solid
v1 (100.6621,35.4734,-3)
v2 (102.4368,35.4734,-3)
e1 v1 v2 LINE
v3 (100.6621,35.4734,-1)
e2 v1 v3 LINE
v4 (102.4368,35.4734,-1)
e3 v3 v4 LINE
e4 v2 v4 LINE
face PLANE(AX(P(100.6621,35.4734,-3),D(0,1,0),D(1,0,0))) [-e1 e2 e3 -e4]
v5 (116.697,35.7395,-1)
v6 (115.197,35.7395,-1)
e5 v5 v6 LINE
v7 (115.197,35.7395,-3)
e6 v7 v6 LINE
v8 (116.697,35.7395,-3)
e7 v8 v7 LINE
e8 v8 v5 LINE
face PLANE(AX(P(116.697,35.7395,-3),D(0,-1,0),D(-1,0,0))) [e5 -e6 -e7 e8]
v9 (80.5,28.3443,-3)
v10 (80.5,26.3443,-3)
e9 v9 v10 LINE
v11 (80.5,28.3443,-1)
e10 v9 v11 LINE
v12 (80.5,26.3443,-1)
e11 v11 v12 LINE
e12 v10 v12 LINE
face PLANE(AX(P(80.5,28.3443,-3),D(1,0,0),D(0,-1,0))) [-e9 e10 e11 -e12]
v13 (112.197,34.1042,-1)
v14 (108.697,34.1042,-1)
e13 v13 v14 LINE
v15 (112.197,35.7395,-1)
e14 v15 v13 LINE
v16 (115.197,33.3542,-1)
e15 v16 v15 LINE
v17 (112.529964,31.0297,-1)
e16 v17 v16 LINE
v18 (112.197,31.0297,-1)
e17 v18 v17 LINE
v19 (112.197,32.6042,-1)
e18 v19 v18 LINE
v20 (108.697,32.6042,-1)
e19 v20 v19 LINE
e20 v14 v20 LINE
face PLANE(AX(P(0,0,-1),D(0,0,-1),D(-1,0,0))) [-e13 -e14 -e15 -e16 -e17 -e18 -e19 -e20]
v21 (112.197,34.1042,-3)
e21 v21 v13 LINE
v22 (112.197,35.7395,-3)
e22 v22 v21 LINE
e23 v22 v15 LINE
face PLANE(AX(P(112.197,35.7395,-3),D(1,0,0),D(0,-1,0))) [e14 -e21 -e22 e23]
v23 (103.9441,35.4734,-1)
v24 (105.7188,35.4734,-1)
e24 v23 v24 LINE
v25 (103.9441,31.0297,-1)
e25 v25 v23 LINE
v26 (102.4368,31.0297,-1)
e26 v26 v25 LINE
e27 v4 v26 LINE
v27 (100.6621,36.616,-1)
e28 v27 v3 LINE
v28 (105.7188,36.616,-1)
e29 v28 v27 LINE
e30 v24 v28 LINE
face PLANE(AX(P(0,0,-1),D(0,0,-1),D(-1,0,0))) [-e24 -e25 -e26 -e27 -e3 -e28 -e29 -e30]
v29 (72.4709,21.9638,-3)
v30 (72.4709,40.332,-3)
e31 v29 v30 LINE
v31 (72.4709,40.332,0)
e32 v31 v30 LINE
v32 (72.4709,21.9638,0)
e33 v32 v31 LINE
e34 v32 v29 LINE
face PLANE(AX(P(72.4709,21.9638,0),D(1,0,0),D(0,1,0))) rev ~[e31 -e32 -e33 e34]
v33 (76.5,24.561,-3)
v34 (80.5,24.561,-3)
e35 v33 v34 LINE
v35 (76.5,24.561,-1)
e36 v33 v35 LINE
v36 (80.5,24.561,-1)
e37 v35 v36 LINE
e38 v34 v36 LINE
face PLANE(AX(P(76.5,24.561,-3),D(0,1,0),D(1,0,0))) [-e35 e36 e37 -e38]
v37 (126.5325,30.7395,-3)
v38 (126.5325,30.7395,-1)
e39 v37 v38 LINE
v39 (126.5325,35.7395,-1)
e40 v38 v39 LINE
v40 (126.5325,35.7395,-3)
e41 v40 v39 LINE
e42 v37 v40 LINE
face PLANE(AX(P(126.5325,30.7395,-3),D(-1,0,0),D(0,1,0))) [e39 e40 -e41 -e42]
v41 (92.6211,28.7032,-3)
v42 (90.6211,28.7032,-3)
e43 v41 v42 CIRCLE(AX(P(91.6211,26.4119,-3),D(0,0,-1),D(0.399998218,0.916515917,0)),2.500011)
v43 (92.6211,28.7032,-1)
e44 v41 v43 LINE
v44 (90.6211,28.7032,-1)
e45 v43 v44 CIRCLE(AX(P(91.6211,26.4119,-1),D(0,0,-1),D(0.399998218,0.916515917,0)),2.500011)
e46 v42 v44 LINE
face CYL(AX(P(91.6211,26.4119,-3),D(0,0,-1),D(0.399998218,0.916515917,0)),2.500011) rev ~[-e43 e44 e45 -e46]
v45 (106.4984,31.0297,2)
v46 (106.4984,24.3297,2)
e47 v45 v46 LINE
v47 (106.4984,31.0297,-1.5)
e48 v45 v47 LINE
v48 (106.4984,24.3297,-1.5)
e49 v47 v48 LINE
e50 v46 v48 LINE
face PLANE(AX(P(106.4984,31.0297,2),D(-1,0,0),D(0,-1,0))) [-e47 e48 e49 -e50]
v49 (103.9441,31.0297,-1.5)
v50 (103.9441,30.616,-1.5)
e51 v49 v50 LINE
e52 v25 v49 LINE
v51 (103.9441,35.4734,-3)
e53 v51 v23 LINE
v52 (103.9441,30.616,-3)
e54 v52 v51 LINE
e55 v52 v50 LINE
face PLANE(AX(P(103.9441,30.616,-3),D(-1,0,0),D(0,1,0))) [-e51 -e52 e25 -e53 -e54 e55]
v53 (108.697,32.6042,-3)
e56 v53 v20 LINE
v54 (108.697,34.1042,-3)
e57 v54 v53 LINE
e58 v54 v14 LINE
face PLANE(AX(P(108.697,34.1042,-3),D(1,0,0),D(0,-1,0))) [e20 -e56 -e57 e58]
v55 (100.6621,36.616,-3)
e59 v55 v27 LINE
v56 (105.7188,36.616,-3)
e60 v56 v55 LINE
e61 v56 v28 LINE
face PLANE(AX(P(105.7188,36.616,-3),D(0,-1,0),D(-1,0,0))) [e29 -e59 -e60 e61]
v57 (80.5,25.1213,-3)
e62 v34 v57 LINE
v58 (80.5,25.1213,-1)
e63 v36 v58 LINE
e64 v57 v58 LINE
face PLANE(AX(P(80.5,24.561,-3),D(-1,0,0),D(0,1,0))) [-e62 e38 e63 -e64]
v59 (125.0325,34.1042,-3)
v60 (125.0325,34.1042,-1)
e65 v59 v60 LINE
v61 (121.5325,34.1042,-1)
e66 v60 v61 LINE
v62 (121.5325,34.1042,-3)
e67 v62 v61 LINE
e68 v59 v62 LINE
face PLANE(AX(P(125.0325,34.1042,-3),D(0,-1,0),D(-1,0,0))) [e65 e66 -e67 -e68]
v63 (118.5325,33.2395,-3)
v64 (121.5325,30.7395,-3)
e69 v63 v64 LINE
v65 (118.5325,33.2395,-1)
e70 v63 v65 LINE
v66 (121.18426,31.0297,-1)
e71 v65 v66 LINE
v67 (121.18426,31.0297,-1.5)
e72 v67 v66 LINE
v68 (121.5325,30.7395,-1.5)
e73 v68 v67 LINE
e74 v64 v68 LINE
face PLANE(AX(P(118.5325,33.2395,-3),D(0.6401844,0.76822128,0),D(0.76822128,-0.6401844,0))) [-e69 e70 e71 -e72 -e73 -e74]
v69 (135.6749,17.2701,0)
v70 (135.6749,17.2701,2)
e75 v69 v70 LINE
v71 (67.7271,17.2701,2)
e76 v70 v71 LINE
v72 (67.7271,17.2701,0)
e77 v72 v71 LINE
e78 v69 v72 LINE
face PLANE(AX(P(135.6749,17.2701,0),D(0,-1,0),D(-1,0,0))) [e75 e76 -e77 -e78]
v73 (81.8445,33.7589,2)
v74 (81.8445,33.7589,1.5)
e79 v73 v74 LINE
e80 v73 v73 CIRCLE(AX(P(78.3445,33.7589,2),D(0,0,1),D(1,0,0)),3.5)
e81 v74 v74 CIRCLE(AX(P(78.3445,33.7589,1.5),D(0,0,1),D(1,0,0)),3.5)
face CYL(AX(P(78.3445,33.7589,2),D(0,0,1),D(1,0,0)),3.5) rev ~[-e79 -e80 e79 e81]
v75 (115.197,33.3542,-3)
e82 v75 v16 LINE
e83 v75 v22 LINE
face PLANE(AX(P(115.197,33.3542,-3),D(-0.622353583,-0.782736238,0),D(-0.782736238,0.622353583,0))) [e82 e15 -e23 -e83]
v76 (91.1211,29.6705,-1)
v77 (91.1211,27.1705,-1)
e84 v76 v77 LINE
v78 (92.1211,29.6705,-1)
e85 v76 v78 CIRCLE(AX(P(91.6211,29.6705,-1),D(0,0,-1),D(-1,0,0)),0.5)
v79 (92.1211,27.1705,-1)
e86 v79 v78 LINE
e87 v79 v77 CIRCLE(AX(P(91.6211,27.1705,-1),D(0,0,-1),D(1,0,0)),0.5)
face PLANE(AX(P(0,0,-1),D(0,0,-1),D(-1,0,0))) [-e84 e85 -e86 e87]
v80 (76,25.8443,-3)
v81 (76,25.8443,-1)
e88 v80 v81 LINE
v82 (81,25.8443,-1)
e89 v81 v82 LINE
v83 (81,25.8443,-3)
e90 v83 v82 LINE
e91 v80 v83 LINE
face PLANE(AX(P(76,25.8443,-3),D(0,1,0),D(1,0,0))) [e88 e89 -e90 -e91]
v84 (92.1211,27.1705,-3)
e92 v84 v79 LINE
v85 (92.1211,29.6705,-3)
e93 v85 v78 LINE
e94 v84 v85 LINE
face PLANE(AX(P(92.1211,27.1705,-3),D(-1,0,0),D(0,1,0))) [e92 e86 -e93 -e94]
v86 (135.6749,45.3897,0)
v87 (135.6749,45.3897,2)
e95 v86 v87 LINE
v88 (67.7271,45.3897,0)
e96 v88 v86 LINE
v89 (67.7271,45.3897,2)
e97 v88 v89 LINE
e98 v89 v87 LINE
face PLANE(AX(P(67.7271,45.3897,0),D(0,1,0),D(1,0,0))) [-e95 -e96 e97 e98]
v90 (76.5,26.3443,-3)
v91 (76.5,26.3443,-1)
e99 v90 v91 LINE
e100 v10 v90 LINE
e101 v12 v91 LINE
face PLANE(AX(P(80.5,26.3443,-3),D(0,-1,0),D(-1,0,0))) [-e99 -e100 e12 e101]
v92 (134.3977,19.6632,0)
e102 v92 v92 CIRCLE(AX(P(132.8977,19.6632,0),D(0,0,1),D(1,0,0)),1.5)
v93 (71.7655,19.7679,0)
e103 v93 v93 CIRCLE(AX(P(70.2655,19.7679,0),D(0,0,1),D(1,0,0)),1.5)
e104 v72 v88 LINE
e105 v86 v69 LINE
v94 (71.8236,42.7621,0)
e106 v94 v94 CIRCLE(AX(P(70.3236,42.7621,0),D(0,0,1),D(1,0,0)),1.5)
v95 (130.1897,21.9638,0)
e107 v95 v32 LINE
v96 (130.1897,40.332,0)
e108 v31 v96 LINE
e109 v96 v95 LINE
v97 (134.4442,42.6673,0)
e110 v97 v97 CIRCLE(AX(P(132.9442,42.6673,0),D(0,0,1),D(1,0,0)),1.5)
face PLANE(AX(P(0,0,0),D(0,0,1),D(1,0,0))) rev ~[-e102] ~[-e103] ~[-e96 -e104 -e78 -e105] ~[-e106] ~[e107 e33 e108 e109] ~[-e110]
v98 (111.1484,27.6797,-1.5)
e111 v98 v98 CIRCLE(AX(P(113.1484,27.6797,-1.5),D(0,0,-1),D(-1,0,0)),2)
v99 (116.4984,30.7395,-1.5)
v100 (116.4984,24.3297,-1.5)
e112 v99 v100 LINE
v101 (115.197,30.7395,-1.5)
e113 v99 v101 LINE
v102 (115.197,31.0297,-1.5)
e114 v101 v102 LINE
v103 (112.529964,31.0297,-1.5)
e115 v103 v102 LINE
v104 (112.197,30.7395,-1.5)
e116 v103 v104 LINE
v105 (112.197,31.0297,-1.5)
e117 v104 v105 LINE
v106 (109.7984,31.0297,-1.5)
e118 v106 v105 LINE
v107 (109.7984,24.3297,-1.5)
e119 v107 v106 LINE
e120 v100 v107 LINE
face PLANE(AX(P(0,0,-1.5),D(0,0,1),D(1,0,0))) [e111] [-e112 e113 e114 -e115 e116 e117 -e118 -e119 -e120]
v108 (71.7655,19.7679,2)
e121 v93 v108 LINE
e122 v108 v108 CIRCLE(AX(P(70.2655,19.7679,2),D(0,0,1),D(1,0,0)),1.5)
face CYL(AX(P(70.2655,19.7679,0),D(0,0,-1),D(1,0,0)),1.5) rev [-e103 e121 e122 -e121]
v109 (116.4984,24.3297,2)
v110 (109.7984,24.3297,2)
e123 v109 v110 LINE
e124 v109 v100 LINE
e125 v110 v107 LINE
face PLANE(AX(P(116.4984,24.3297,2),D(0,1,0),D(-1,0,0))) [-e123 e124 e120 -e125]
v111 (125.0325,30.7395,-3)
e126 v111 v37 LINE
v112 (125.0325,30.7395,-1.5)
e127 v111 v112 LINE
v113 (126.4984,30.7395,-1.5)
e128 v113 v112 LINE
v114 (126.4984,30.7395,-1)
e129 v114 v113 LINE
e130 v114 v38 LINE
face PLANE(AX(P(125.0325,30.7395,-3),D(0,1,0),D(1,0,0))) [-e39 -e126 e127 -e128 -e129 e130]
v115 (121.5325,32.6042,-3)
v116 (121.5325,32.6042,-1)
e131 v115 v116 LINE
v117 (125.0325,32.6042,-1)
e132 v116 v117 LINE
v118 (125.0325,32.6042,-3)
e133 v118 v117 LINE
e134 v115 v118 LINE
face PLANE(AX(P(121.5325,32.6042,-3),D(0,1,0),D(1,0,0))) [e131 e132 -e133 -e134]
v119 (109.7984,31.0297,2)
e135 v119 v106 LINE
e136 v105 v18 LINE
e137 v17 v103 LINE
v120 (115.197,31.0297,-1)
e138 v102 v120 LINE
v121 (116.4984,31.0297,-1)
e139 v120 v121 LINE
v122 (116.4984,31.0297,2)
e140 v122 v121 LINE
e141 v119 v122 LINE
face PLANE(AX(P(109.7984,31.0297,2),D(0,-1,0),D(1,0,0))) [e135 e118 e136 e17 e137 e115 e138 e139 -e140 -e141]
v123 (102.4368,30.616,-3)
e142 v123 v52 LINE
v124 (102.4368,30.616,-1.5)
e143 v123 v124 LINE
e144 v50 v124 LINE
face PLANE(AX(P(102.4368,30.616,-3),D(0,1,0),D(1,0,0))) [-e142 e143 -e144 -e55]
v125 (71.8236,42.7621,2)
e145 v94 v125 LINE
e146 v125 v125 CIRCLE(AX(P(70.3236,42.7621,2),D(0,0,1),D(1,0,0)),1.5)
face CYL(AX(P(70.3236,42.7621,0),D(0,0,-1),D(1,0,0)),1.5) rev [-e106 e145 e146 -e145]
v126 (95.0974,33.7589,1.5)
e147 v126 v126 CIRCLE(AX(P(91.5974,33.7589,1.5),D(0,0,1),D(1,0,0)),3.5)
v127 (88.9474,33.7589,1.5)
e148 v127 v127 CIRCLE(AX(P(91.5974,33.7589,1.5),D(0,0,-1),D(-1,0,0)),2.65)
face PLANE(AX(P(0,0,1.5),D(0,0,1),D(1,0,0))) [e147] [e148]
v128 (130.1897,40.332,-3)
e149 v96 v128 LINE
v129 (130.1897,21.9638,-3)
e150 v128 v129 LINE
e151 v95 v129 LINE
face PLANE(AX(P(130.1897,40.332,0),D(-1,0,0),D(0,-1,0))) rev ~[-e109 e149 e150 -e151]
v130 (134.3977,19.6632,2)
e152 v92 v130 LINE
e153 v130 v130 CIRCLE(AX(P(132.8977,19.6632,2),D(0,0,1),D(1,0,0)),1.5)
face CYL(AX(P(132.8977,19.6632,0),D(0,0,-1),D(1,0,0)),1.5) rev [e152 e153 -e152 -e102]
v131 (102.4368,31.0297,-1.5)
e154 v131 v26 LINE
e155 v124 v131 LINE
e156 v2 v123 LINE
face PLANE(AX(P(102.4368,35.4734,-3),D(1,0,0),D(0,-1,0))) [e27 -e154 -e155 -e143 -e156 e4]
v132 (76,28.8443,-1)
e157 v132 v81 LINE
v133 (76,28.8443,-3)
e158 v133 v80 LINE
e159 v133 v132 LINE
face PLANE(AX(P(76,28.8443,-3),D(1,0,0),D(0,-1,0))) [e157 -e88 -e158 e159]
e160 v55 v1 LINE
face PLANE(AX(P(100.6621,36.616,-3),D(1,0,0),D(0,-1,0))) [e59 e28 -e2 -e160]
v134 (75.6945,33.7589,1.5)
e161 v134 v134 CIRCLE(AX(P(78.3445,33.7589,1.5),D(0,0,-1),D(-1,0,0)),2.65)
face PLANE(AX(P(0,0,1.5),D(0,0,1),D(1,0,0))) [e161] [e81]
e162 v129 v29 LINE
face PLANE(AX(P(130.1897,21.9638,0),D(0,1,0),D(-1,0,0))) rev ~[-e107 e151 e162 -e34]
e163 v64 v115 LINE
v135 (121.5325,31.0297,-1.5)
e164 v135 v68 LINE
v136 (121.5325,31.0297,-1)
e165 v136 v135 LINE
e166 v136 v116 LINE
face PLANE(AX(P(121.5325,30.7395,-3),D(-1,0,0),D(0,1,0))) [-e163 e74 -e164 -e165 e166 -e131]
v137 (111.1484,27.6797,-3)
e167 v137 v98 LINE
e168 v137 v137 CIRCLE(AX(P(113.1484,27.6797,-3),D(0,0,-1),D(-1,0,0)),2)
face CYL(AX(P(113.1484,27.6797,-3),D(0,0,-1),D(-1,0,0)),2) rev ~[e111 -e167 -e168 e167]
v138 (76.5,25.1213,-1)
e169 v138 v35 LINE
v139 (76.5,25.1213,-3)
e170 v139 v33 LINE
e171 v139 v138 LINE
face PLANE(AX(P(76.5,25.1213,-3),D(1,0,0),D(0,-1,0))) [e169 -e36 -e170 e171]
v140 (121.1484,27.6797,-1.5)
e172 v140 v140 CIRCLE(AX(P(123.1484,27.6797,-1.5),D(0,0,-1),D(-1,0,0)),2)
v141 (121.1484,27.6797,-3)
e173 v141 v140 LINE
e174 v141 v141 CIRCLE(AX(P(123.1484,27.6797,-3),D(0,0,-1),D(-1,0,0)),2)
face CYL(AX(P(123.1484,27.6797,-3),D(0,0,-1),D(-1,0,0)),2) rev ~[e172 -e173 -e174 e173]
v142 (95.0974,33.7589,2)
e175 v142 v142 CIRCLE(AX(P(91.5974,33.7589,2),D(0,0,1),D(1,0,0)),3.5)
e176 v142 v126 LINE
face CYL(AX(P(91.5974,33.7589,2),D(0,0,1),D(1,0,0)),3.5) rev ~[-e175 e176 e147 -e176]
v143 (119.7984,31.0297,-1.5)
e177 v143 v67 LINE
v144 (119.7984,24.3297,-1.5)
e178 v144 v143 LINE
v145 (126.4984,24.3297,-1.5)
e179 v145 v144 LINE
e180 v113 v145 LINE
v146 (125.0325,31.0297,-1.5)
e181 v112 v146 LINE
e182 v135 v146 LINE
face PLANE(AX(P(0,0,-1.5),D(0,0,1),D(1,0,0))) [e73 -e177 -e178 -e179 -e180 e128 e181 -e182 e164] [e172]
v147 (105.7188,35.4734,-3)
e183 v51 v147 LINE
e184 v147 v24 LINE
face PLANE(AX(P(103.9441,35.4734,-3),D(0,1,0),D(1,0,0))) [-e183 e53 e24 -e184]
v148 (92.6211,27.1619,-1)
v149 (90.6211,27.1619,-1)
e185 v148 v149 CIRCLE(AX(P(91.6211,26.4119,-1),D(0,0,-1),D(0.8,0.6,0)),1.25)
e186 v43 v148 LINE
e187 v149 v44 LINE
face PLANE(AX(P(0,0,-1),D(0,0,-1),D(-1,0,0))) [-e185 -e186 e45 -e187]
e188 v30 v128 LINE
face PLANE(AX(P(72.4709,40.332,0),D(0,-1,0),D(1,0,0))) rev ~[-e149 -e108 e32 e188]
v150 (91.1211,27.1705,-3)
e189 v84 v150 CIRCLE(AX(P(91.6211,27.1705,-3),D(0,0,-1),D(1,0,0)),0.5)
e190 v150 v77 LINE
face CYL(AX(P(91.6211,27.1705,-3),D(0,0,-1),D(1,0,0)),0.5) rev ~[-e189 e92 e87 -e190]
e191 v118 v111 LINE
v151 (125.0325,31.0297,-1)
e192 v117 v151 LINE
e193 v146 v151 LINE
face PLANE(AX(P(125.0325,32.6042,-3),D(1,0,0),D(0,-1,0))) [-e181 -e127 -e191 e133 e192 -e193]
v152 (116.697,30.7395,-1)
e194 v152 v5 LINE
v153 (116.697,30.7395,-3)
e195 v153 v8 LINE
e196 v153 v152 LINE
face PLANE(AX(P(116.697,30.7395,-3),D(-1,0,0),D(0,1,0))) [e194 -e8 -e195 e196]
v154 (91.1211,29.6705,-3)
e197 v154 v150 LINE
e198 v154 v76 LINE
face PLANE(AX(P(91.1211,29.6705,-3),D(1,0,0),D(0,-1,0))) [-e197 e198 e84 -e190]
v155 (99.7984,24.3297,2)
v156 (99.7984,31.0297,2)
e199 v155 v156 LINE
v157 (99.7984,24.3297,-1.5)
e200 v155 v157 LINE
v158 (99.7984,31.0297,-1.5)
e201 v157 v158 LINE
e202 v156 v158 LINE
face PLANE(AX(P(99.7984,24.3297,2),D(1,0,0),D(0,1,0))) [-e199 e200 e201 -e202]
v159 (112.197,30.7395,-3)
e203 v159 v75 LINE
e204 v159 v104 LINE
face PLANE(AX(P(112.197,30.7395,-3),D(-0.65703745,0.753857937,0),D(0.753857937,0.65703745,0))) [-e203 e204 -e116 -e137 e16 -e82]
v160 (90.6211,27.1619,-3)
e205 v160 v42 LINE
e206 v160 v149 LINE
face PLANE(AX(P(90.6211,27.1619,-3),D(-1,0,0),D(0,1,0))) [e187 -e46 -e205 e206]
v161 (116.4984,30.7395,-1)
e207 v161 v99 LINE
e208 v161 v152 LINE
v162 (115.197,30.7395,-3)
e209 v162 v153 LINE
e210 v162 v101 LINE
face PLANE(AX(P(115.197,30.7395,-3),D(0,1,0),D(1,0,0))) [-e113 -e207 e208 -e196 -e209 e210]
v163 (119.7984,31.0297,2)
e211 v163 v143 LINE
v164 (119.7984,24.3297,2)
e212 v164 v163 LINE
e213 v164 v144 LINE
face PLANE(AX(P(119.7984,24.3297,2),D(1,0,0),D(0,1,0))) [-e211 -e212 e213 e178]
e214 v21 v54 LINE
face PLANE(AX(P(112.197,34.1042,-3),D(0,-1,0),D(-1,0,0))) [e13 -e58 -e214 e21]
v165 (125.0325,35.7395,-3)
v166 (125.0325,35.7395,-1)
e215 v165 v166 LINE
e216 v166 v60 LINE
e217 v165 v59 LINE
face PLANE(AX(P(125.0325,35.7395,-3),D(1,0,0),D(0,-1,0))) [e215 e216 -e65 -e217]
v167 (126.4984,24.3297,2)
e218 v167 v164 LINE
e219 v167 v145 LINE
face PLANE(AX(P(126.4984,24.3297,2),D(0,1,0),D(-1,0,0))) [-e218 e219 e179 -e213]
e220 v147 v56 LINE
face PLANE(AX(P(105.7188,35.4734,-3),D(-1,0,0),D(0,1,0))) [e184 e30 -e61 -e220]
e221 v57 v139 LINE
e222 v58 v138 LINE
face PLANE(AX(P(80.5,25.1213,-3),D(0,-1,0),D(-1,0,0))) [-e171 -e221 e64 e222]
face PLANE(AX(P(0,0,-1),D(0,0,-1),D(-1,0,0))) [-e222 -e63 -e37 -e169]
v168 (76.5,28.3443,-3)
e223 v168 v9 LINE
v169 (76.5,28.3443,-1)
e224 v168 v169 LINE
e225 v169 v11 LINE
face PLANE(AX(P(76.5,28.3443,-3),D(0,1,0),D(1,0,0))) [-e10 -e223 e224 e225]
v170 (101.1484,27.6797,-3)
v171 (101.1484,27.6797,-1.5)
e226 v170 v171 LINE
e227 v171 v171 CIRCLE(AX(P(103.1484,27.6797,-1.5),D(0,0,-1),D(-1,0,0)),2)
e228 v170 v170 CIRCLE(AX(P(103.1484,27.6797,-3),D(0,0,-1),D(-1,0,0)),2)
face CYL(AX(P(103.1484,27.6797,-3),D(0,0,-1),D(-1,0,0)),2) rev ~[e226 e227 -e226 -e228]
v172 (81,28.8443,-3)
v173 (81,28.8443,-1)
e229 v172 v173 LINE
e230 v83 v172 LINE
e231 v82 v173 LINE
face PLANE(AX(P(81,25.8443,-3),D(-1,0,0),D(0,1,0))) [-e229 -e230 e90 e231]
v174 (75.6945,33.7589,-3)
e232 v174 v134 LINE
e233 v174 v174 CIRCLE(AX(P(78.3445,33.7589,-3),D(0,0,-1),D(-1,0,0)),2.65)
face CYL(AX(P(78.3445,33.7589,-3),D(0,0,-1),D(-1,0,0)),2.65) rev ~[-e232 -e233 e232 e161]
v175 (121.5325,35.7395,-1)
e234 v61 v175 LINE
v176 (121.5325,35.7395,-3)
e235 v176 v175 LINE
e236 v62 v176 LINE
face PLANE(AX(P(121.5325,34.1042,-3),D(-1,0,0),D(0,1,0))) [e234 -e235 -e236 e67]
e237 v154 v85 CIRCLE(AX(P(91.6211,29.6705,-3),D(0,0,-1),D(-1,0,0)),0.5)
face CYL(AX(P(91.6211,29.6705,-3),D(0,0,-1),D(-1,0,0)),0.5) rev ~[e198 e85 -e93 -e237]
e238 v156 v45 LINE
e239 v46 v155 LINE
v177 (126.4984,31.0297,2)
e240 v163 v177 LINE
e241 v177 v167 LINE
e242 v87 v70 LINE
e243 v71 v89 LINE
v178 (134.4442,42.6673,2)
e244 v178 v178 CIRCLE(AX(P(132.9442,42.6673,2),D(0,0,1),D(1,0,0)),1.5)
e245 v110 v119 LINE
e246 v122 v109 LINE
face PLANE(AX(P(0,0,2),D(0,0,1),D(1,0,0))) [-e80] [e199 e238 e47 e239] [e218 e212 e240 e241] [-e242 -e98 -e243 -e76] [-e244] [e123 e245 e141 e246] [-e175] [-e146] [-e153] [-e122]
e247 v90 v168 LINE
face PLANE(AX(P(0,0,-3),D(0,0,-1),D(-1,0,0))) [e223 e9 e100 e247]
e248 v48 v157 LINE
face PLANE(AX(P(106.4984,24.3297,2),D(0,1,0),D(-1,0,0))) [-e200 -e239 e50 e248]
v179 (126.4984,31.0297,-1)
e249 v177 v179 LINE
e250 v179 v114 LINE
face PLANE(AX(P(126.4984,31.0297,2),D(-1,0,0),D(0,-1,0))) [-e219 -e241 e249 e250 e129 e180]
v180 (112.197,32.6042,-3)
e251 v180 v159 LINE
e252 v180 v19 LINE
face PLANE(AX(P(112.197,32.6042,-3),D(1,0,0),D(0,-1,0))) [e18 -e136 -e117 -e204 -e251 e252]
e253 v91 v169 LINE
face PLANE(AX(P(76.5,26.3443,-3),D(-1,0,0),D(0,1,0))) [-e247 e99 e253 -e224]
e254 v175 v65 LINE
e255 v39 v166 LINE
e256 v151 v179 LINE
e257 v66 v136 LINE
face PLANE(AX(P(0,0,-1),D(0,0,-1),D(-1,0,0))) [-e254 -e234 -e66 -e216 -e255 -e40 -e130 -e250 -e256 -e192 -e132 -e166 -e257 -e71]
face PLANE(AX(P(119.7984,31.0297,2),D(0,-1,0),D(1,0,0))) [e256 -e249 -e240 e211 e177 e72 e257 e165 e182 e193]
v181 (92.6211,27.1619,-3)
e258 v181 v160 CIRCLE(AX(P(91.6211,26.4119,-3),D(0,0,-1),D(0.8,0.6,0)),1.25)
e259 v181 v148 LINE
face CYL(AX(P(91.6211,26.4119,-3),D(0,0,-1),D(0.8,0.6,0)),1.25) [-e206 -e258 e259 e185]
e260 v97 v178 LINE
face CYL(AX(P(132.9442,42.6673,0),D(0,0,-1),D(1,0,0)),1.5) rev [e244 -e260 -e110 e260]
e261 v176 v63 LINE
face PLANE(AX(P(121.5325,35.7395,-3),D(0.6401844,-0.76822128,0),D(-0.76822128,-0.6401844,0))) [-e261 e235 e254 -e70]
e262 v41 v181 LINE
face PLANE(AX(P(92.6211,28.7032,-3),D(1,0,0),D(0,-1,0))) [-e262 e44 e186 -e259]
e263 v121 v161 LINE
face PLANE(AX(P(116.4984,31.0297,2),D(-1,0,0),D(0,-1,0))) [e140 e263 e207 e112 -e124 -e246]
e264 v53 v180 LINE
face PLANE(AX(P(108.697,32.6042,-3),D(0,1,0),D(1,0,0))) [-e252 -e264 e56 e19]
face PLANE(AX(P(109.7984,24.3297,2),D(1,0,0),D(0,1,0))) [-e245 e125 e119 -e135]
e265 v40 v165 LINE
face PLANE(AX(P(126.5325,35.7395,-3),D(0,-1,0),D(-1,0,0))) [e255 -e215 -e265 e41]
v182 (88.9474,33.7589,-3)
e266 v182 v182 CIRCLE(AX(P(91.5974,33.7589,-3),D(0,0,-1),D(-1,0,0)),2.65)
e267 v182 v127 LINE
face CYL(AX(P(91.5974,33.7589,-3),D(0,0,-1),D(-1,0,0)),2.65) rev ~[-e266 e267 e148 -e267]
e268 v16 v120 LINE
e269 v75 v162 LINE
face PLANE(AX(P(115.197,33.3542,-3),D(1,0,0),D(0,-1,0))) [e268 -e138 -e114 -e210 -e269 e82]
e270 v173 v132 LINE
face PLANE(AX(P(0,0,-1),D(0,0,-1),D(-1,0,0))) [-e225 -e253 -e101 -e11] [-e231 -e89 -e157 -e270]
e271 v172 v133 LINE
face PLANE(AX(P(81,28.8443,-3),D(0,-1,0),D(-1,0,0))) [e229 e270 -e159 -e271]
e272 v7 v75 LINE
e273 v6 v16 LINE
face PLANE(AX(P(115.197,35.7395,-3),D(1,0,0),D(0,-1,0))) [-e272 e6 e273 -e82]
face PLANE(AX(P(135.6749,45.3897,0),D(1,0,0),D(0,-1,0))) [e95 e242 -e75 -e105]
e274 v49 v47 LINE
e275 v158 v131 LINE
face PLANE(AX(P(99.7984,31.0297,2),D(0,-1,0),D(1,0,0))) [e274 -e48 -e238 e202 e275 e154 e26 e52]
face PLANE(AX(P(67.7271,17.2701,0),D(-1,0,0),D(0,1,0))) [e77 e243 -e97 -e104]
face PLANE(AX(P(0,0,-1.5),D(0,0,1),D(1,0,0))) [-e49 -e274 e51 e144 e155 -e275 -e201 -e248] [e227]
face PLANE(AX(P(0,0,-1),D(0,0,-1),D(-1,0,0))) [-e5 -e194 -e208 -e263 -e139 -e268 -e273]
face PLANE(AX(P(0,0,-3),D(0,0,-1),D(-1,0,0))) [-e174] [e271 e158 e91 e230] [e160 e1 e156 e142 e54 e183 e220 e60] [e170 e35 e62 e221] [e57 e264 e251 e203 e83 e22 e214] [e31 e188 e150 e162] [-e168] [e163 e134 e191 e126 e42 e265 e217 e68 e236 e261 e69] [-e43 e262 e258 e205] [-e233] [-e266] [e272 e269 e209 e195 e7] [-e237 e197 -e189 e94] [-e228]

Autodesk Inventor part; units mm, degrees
ref_plane "YZ Plane" through (0, 0, 0) normal (1, 0, 0) x (0, 1, 0)
ref_plane "XZ Plane" through (0, 0, 0) normal (0, 1, 0) x (-1, 0, 0)
ref_plane "XY Plane" through (0, 0, 0) normal (0, 0, 1) x (1, 0, 0)
ref_plane "Work Plane1" through (0, 0, 0) normal (0, 0, 1) x (1, 0, 0)
sketch "Sketch1" plane through (0, 0, 0) normal (0, 0, 1) x (1, 0, 0)
  line L0 (67.7271, 45.3897) -> (135.6749, 45.3897)
  line L1 (135.6749, 45.3897) -> (135.6749, 17.2701)
  line L2 (135.6749, 17.2701) -> (67.7271, 17.2701)
  line L3 (67.7271, 17.2701) -> (67.7271, 45.3897)
  circle A0 centre (70.3236, 42.7621) radius 1.5
  circle A1 centre (70.2655, 19.7679) radius 1.5
  circle A2 centre (132.8977, 19.6632) radius 1.5
  circle A3 centre (132.9442, 42.6673) radius 1.5
  point P0 (0, 0)
  dimension "d0" = 3
  dimension "d1" = 3
  dimension "d2" = 3
  dimension "d3" = 3
extrude "Extrusion1" add sketch "Sketch1" along normal blind 2
sketch "Sketch2" plane through (0, 0, 0) normal (0, 0, -1) x (-1, 0, 0)
  line L0 (-130.1897, 21.9638) -> (-72.4709, 21.9638)
  line L1 (-72.4709, 21.9638) -> (-72.4709, 40.332)
  line L2 (-72.4709, 40.332) -> (-130.1897, 40.332)
  line L3 (-130.1897, 40.332) -> (-130.1897, 21.9638)
  point P0 (0, 0)
extrude "Extrusion2" add sketch "Sketch2" along normal blind 3
sketch "Sketch3" plane through (0, 0, -3) normal (0, 0, -1) x (-1, 0, 0)
  circle A0 centre (-123.1484, 27.6797) radius 2
  line L0 (-121.6186, 32.121) -> (-111.2555, 32.121)
  circle A1 centre (-113.1484, 27.6797) radius 2
  circle A2 centre (-103.1484, 27.6797) radius 2
  circle A3 centre (-91.5974, 33.7589) radius 2.65
  circle A4 centre (-78.3445, 33.7589) radius 2.65
  point P0 (0, 0)
  dimension "d8" = 4
  dimension "d11" = 10
  dimension "d16" = 5.3
  dimension "d17" = 5.3
extrude "Extrusion3" cut sketch "Sketch3" against normal up to surface (5 mm away)
sketch "Sketch5" plane through (0, 0, 2) normal (0, 0, 1) x (1, 0, 0)
  circle A0 centre (78.3445, 33.7589) radius 2.65 projected
  circle A1 centre (78.3445, 33.7589) radius 3.5
  circle A2 centre (91.5974, 33.7589) radius 2.65 projected
  circle A3 centre (91.5974, 33.7589) radius 3.5
  point P0 (0, 0)
  dimension "d22" = 7
  dimension "d23" = 7
extrude "Extrusion5" cut sketch "Sketch5" against normal blind 0.5
sketch "Sketch6" plane through (0, 0, 2) normal (0, 0, 1) x (1, 0, 0)
  line L0 (99.7984, 31.0297) -> (106.4984, 31.0297)
  line L1 (106.4984, 31.0297) -> (106.4984, 24.3297)
  line L2 (106.4984, 24.3297) -> (99.7984, 24.3297)
  line L3 (99.7984, 24.3297) -> (99.7984, 31.0297)
  circle A0 centre (103.1484, 27.6797) radius 2 projected
  line L4 (109.7984, 31.0297) -> (116.4984, 31.0297)
  line L5 (116.4984, 31.0297) -> (116.4984, 24.3297)
  line L6 (116.4984, 24.3297) -> (109.7984, 24.3297)
  line L7 (109.7984, 24.3297) -> (109.7984, 31.0297)
  line L8 (119.7984, 31.0297) -> (126.4984, 31.0297)
  line L9 (126.4984, 31.0297) -> (126.4984, 24.3297)
  line L10 (126.4984, 24.3297) -> (119.7984, 24.3297)
  line L11 (119.7984, 24.3297) -> (119.7984, 31.0297)
  circle A1 centre (113.1484, 27.6797) radius 2 projected
  circle A2 centre (123.1484, 27.6797) radius 2 projected
  point P0 (0, 0)
  dimension "d26" = 6.7
  dimension "d27" = 6.7
  dimension "d28" = 3.35
  dimension "d29" = 3.35
  dimension "d30" = 6.7
  dimension "d31" = 6.7
  dimension "d32" = 6.7
  dimension "d33" = 6.7
  dimension "d34" = 3.35
  dimension "d35" = 3.35
  dimension "d36" = 3.35
  dimension "d37" = 3.35
extrude "Extrusion6" cut sketch "Sketch6" against normal blind 3.5
sketch "Sketch7" plane through (0, 0, -3) normal (0, 0, -1) x (-1, 0, 0)
  circle A0 centre (-103.1484, 27.6797) radius 2 projected
  circle A1 centre (-91.5974, 33.7589) radius 2.65 projected
  circle A2 centre (-123.1484, 27.6797) radius 2 projected
  circle A3 centre (-78.3445, 33.7589) radius 2.65 projected
  circle A4 centre (-113.1484, 27.6797) radius 2 projected
  line L0 (-72.4709, 21.9638) -> (-130.1897, 21.9638) projected
  line L1 (-130.1897, 21.9638) -> (-130.1897, 40.332) projected
  line L2 (-130.1897, 40.332) -> (-72.4709, 40.332) projected
  line L3 (-72.4709, 40.332) -> (-72.4709, 21.9638) projected
  line L4 (-125.0325, 30.7395) -> (-126.5325, 30.7395)
  line L5 (-126.5325, 30.7395) -> (-126.5325, 35.7395)
  line L6 (-126.5325, 35.7395) -> (-125.0325, 35.7395)
  line L7 (-125.0325, 35.7395) -> (-125.0325, 34.1042)
  line L8 (-125.0325, 34.1042) -> (-121.5325, 34.1042)
  line L9 (-121.5325, 34.1042) -> (-121.5325, 35.7395)
  line L10 (-121.5325, 35.7395) -> (-118.5325, 33.2395)
  line L11 (-118.5325, 33.2395) -> (-121.5325, 30.7395)
  line L12 (-121.5325, 30.7395) -> (-121.5325, 32.6042)
  line L13 (-121.5325, 32.6042) -> (-125.0325, 32.6042)
  line L14 (-125.0325, 32.6042) -> (-125.0325, 30.7395)
  line L15 (-115.197, 30.7395) -> (-116.697, 30.7395)
  line L16 (-116.697, 30.7395) -> (-116.697, 35.7395)
  line L17 (-116.697, 35.7395) -> (-115.197, 35.7395)
  line L18 (-115.197, 35.7395) -> (-115.197, 33.3542)
  line L19 (-115.197, 33.3542) -> (-112.197, 35.7395)
  line L20 (-112.197, 35.7395) -> (-112.197, 34.1042)
  line L21 (-112.197, 34.1042) -> (-108.697, 34.1042)
  line L22 (-108.697, 34.1042) -> (-108.697, 32.6042)
  line L23 (-108.697, 32.6042) -> (-112.197, 32.6042)
  line L24 (-112.197, 32.6042) -> (-112.197, 30.7395)
  line L25 (-112.197, 30.7395) -> (-115.197, 33.3542)
  line L26 (-115.197, 33.3542) -> (-115.197, 30.7395)
  line L27 (-76.5, 25.1213) -> (-76.5, 24.561)
  line L28 (-76.5, 24.561) -> (-80.5, 24.561)
  line L29 (-80.5, 24.561) -> (-80.5, 25.1213)
  line L30 (-80.5, 25.1213) -> (-76.5, 25.1213)
  line L31 (-92.6211, 28.7032) -> (-92.6211, 27.1619)
  arc A5 (-92.6211, 27.1619) -> (-90.6211, 27.1619) centre (-91.6211, 26.4119) ccw
  line L32 (-90.6211, 27.1619) -> (-90.6211, 28.7032)
  arc A6 (-92.6211, 28.7032) -> (-90.6211, 28.7032) centre (-91.6211, 26.4119) ccw
  line L33 (-76.5, 26.3443) -> (-76.5, 28.3443)
  line L34 (-76.5, 28.3443) -> (-80.5, 28.3443)
  line L35 (-80.5, 28.3443) -> (-80.5, 26.3443)
  line L36 (-80.5, 26.3443) -> (-76.5, 26.3443)
  line L37 (-76, 28.8443) -> (-76, 25.8443)
  line L38 (-76, 25.8443) -> (-81, 25.8443)
  line L39 (-81, 25.8443) -> (-81, 28.8443)
  line L40 (-81, 28.8443) -> (-76, 28.8443)
  line L41 (-91.1211, 29.6705) -> (-91.1211, 27.1705)
  arc A7 (-92.1211, 27.1705) -> (-91.1211, 27.1705) centre (-91.6211, 27.1705) ccw
  line L42 (-92.1211, 27.1705) -> (-92.1211, 29.6705)
  arc A8 (-91.1211, 29.6705) -> (-92.1211, 29.6705) centre (-91.6211, 29.6705) ccw
  line L43 (-102.4368, 30.616) -> (-103.9441, 30.616)
  line L44 (-103.9441, 30.616) -> (-103.9441, 35.4734)
  line L45 (-103.9441, 35.4734) -> (-105.7188, 35.4734)
  line L46 (-105.7188, 35.4734) -> (-105.7188, 36.616)
  line L47 (-105.7188, 36.616) -> (-100.6621, 36.616)
  line L48 (-100.6621, 36.616) -> (-100.6621, 35.4734)
  line L49 (-100.6621, 35.4734) -> (-102.4368, 35.4734)
  line L50 (-102.4368, 35.4734) -> (-102.4368, 30.616)
  point P0 (0, 0)
extrude "Extrusion7" cut sketch "Sketch7" against normal blind 2 contours L4 L5 L6 L7 L8 L9 L10 L11 L12 L13 L14 | L19 L20 L21 L22 L23 L24 L25 | L15 L16 L17 L18 L26 | L27 L28 L29 L30 | L31 A5 L32 A6 | L37 L38 L39 L40 | L41 A7 L42 A8 | L43 L44 L45 L46 L47 L48 L49 L50
equation "\"d28\" = 0.5 * d26"
equation "\"d29\" = 0.5 * d27"
equation "\"d34\" = 0.5 * d31"
equation "\"d35\" = 0.5 * d33"
equation "\"d36\" = 0.5 * d30"
equation "\"d37\" = 0.5 * d32"
properties part number "InterfacePlate"
